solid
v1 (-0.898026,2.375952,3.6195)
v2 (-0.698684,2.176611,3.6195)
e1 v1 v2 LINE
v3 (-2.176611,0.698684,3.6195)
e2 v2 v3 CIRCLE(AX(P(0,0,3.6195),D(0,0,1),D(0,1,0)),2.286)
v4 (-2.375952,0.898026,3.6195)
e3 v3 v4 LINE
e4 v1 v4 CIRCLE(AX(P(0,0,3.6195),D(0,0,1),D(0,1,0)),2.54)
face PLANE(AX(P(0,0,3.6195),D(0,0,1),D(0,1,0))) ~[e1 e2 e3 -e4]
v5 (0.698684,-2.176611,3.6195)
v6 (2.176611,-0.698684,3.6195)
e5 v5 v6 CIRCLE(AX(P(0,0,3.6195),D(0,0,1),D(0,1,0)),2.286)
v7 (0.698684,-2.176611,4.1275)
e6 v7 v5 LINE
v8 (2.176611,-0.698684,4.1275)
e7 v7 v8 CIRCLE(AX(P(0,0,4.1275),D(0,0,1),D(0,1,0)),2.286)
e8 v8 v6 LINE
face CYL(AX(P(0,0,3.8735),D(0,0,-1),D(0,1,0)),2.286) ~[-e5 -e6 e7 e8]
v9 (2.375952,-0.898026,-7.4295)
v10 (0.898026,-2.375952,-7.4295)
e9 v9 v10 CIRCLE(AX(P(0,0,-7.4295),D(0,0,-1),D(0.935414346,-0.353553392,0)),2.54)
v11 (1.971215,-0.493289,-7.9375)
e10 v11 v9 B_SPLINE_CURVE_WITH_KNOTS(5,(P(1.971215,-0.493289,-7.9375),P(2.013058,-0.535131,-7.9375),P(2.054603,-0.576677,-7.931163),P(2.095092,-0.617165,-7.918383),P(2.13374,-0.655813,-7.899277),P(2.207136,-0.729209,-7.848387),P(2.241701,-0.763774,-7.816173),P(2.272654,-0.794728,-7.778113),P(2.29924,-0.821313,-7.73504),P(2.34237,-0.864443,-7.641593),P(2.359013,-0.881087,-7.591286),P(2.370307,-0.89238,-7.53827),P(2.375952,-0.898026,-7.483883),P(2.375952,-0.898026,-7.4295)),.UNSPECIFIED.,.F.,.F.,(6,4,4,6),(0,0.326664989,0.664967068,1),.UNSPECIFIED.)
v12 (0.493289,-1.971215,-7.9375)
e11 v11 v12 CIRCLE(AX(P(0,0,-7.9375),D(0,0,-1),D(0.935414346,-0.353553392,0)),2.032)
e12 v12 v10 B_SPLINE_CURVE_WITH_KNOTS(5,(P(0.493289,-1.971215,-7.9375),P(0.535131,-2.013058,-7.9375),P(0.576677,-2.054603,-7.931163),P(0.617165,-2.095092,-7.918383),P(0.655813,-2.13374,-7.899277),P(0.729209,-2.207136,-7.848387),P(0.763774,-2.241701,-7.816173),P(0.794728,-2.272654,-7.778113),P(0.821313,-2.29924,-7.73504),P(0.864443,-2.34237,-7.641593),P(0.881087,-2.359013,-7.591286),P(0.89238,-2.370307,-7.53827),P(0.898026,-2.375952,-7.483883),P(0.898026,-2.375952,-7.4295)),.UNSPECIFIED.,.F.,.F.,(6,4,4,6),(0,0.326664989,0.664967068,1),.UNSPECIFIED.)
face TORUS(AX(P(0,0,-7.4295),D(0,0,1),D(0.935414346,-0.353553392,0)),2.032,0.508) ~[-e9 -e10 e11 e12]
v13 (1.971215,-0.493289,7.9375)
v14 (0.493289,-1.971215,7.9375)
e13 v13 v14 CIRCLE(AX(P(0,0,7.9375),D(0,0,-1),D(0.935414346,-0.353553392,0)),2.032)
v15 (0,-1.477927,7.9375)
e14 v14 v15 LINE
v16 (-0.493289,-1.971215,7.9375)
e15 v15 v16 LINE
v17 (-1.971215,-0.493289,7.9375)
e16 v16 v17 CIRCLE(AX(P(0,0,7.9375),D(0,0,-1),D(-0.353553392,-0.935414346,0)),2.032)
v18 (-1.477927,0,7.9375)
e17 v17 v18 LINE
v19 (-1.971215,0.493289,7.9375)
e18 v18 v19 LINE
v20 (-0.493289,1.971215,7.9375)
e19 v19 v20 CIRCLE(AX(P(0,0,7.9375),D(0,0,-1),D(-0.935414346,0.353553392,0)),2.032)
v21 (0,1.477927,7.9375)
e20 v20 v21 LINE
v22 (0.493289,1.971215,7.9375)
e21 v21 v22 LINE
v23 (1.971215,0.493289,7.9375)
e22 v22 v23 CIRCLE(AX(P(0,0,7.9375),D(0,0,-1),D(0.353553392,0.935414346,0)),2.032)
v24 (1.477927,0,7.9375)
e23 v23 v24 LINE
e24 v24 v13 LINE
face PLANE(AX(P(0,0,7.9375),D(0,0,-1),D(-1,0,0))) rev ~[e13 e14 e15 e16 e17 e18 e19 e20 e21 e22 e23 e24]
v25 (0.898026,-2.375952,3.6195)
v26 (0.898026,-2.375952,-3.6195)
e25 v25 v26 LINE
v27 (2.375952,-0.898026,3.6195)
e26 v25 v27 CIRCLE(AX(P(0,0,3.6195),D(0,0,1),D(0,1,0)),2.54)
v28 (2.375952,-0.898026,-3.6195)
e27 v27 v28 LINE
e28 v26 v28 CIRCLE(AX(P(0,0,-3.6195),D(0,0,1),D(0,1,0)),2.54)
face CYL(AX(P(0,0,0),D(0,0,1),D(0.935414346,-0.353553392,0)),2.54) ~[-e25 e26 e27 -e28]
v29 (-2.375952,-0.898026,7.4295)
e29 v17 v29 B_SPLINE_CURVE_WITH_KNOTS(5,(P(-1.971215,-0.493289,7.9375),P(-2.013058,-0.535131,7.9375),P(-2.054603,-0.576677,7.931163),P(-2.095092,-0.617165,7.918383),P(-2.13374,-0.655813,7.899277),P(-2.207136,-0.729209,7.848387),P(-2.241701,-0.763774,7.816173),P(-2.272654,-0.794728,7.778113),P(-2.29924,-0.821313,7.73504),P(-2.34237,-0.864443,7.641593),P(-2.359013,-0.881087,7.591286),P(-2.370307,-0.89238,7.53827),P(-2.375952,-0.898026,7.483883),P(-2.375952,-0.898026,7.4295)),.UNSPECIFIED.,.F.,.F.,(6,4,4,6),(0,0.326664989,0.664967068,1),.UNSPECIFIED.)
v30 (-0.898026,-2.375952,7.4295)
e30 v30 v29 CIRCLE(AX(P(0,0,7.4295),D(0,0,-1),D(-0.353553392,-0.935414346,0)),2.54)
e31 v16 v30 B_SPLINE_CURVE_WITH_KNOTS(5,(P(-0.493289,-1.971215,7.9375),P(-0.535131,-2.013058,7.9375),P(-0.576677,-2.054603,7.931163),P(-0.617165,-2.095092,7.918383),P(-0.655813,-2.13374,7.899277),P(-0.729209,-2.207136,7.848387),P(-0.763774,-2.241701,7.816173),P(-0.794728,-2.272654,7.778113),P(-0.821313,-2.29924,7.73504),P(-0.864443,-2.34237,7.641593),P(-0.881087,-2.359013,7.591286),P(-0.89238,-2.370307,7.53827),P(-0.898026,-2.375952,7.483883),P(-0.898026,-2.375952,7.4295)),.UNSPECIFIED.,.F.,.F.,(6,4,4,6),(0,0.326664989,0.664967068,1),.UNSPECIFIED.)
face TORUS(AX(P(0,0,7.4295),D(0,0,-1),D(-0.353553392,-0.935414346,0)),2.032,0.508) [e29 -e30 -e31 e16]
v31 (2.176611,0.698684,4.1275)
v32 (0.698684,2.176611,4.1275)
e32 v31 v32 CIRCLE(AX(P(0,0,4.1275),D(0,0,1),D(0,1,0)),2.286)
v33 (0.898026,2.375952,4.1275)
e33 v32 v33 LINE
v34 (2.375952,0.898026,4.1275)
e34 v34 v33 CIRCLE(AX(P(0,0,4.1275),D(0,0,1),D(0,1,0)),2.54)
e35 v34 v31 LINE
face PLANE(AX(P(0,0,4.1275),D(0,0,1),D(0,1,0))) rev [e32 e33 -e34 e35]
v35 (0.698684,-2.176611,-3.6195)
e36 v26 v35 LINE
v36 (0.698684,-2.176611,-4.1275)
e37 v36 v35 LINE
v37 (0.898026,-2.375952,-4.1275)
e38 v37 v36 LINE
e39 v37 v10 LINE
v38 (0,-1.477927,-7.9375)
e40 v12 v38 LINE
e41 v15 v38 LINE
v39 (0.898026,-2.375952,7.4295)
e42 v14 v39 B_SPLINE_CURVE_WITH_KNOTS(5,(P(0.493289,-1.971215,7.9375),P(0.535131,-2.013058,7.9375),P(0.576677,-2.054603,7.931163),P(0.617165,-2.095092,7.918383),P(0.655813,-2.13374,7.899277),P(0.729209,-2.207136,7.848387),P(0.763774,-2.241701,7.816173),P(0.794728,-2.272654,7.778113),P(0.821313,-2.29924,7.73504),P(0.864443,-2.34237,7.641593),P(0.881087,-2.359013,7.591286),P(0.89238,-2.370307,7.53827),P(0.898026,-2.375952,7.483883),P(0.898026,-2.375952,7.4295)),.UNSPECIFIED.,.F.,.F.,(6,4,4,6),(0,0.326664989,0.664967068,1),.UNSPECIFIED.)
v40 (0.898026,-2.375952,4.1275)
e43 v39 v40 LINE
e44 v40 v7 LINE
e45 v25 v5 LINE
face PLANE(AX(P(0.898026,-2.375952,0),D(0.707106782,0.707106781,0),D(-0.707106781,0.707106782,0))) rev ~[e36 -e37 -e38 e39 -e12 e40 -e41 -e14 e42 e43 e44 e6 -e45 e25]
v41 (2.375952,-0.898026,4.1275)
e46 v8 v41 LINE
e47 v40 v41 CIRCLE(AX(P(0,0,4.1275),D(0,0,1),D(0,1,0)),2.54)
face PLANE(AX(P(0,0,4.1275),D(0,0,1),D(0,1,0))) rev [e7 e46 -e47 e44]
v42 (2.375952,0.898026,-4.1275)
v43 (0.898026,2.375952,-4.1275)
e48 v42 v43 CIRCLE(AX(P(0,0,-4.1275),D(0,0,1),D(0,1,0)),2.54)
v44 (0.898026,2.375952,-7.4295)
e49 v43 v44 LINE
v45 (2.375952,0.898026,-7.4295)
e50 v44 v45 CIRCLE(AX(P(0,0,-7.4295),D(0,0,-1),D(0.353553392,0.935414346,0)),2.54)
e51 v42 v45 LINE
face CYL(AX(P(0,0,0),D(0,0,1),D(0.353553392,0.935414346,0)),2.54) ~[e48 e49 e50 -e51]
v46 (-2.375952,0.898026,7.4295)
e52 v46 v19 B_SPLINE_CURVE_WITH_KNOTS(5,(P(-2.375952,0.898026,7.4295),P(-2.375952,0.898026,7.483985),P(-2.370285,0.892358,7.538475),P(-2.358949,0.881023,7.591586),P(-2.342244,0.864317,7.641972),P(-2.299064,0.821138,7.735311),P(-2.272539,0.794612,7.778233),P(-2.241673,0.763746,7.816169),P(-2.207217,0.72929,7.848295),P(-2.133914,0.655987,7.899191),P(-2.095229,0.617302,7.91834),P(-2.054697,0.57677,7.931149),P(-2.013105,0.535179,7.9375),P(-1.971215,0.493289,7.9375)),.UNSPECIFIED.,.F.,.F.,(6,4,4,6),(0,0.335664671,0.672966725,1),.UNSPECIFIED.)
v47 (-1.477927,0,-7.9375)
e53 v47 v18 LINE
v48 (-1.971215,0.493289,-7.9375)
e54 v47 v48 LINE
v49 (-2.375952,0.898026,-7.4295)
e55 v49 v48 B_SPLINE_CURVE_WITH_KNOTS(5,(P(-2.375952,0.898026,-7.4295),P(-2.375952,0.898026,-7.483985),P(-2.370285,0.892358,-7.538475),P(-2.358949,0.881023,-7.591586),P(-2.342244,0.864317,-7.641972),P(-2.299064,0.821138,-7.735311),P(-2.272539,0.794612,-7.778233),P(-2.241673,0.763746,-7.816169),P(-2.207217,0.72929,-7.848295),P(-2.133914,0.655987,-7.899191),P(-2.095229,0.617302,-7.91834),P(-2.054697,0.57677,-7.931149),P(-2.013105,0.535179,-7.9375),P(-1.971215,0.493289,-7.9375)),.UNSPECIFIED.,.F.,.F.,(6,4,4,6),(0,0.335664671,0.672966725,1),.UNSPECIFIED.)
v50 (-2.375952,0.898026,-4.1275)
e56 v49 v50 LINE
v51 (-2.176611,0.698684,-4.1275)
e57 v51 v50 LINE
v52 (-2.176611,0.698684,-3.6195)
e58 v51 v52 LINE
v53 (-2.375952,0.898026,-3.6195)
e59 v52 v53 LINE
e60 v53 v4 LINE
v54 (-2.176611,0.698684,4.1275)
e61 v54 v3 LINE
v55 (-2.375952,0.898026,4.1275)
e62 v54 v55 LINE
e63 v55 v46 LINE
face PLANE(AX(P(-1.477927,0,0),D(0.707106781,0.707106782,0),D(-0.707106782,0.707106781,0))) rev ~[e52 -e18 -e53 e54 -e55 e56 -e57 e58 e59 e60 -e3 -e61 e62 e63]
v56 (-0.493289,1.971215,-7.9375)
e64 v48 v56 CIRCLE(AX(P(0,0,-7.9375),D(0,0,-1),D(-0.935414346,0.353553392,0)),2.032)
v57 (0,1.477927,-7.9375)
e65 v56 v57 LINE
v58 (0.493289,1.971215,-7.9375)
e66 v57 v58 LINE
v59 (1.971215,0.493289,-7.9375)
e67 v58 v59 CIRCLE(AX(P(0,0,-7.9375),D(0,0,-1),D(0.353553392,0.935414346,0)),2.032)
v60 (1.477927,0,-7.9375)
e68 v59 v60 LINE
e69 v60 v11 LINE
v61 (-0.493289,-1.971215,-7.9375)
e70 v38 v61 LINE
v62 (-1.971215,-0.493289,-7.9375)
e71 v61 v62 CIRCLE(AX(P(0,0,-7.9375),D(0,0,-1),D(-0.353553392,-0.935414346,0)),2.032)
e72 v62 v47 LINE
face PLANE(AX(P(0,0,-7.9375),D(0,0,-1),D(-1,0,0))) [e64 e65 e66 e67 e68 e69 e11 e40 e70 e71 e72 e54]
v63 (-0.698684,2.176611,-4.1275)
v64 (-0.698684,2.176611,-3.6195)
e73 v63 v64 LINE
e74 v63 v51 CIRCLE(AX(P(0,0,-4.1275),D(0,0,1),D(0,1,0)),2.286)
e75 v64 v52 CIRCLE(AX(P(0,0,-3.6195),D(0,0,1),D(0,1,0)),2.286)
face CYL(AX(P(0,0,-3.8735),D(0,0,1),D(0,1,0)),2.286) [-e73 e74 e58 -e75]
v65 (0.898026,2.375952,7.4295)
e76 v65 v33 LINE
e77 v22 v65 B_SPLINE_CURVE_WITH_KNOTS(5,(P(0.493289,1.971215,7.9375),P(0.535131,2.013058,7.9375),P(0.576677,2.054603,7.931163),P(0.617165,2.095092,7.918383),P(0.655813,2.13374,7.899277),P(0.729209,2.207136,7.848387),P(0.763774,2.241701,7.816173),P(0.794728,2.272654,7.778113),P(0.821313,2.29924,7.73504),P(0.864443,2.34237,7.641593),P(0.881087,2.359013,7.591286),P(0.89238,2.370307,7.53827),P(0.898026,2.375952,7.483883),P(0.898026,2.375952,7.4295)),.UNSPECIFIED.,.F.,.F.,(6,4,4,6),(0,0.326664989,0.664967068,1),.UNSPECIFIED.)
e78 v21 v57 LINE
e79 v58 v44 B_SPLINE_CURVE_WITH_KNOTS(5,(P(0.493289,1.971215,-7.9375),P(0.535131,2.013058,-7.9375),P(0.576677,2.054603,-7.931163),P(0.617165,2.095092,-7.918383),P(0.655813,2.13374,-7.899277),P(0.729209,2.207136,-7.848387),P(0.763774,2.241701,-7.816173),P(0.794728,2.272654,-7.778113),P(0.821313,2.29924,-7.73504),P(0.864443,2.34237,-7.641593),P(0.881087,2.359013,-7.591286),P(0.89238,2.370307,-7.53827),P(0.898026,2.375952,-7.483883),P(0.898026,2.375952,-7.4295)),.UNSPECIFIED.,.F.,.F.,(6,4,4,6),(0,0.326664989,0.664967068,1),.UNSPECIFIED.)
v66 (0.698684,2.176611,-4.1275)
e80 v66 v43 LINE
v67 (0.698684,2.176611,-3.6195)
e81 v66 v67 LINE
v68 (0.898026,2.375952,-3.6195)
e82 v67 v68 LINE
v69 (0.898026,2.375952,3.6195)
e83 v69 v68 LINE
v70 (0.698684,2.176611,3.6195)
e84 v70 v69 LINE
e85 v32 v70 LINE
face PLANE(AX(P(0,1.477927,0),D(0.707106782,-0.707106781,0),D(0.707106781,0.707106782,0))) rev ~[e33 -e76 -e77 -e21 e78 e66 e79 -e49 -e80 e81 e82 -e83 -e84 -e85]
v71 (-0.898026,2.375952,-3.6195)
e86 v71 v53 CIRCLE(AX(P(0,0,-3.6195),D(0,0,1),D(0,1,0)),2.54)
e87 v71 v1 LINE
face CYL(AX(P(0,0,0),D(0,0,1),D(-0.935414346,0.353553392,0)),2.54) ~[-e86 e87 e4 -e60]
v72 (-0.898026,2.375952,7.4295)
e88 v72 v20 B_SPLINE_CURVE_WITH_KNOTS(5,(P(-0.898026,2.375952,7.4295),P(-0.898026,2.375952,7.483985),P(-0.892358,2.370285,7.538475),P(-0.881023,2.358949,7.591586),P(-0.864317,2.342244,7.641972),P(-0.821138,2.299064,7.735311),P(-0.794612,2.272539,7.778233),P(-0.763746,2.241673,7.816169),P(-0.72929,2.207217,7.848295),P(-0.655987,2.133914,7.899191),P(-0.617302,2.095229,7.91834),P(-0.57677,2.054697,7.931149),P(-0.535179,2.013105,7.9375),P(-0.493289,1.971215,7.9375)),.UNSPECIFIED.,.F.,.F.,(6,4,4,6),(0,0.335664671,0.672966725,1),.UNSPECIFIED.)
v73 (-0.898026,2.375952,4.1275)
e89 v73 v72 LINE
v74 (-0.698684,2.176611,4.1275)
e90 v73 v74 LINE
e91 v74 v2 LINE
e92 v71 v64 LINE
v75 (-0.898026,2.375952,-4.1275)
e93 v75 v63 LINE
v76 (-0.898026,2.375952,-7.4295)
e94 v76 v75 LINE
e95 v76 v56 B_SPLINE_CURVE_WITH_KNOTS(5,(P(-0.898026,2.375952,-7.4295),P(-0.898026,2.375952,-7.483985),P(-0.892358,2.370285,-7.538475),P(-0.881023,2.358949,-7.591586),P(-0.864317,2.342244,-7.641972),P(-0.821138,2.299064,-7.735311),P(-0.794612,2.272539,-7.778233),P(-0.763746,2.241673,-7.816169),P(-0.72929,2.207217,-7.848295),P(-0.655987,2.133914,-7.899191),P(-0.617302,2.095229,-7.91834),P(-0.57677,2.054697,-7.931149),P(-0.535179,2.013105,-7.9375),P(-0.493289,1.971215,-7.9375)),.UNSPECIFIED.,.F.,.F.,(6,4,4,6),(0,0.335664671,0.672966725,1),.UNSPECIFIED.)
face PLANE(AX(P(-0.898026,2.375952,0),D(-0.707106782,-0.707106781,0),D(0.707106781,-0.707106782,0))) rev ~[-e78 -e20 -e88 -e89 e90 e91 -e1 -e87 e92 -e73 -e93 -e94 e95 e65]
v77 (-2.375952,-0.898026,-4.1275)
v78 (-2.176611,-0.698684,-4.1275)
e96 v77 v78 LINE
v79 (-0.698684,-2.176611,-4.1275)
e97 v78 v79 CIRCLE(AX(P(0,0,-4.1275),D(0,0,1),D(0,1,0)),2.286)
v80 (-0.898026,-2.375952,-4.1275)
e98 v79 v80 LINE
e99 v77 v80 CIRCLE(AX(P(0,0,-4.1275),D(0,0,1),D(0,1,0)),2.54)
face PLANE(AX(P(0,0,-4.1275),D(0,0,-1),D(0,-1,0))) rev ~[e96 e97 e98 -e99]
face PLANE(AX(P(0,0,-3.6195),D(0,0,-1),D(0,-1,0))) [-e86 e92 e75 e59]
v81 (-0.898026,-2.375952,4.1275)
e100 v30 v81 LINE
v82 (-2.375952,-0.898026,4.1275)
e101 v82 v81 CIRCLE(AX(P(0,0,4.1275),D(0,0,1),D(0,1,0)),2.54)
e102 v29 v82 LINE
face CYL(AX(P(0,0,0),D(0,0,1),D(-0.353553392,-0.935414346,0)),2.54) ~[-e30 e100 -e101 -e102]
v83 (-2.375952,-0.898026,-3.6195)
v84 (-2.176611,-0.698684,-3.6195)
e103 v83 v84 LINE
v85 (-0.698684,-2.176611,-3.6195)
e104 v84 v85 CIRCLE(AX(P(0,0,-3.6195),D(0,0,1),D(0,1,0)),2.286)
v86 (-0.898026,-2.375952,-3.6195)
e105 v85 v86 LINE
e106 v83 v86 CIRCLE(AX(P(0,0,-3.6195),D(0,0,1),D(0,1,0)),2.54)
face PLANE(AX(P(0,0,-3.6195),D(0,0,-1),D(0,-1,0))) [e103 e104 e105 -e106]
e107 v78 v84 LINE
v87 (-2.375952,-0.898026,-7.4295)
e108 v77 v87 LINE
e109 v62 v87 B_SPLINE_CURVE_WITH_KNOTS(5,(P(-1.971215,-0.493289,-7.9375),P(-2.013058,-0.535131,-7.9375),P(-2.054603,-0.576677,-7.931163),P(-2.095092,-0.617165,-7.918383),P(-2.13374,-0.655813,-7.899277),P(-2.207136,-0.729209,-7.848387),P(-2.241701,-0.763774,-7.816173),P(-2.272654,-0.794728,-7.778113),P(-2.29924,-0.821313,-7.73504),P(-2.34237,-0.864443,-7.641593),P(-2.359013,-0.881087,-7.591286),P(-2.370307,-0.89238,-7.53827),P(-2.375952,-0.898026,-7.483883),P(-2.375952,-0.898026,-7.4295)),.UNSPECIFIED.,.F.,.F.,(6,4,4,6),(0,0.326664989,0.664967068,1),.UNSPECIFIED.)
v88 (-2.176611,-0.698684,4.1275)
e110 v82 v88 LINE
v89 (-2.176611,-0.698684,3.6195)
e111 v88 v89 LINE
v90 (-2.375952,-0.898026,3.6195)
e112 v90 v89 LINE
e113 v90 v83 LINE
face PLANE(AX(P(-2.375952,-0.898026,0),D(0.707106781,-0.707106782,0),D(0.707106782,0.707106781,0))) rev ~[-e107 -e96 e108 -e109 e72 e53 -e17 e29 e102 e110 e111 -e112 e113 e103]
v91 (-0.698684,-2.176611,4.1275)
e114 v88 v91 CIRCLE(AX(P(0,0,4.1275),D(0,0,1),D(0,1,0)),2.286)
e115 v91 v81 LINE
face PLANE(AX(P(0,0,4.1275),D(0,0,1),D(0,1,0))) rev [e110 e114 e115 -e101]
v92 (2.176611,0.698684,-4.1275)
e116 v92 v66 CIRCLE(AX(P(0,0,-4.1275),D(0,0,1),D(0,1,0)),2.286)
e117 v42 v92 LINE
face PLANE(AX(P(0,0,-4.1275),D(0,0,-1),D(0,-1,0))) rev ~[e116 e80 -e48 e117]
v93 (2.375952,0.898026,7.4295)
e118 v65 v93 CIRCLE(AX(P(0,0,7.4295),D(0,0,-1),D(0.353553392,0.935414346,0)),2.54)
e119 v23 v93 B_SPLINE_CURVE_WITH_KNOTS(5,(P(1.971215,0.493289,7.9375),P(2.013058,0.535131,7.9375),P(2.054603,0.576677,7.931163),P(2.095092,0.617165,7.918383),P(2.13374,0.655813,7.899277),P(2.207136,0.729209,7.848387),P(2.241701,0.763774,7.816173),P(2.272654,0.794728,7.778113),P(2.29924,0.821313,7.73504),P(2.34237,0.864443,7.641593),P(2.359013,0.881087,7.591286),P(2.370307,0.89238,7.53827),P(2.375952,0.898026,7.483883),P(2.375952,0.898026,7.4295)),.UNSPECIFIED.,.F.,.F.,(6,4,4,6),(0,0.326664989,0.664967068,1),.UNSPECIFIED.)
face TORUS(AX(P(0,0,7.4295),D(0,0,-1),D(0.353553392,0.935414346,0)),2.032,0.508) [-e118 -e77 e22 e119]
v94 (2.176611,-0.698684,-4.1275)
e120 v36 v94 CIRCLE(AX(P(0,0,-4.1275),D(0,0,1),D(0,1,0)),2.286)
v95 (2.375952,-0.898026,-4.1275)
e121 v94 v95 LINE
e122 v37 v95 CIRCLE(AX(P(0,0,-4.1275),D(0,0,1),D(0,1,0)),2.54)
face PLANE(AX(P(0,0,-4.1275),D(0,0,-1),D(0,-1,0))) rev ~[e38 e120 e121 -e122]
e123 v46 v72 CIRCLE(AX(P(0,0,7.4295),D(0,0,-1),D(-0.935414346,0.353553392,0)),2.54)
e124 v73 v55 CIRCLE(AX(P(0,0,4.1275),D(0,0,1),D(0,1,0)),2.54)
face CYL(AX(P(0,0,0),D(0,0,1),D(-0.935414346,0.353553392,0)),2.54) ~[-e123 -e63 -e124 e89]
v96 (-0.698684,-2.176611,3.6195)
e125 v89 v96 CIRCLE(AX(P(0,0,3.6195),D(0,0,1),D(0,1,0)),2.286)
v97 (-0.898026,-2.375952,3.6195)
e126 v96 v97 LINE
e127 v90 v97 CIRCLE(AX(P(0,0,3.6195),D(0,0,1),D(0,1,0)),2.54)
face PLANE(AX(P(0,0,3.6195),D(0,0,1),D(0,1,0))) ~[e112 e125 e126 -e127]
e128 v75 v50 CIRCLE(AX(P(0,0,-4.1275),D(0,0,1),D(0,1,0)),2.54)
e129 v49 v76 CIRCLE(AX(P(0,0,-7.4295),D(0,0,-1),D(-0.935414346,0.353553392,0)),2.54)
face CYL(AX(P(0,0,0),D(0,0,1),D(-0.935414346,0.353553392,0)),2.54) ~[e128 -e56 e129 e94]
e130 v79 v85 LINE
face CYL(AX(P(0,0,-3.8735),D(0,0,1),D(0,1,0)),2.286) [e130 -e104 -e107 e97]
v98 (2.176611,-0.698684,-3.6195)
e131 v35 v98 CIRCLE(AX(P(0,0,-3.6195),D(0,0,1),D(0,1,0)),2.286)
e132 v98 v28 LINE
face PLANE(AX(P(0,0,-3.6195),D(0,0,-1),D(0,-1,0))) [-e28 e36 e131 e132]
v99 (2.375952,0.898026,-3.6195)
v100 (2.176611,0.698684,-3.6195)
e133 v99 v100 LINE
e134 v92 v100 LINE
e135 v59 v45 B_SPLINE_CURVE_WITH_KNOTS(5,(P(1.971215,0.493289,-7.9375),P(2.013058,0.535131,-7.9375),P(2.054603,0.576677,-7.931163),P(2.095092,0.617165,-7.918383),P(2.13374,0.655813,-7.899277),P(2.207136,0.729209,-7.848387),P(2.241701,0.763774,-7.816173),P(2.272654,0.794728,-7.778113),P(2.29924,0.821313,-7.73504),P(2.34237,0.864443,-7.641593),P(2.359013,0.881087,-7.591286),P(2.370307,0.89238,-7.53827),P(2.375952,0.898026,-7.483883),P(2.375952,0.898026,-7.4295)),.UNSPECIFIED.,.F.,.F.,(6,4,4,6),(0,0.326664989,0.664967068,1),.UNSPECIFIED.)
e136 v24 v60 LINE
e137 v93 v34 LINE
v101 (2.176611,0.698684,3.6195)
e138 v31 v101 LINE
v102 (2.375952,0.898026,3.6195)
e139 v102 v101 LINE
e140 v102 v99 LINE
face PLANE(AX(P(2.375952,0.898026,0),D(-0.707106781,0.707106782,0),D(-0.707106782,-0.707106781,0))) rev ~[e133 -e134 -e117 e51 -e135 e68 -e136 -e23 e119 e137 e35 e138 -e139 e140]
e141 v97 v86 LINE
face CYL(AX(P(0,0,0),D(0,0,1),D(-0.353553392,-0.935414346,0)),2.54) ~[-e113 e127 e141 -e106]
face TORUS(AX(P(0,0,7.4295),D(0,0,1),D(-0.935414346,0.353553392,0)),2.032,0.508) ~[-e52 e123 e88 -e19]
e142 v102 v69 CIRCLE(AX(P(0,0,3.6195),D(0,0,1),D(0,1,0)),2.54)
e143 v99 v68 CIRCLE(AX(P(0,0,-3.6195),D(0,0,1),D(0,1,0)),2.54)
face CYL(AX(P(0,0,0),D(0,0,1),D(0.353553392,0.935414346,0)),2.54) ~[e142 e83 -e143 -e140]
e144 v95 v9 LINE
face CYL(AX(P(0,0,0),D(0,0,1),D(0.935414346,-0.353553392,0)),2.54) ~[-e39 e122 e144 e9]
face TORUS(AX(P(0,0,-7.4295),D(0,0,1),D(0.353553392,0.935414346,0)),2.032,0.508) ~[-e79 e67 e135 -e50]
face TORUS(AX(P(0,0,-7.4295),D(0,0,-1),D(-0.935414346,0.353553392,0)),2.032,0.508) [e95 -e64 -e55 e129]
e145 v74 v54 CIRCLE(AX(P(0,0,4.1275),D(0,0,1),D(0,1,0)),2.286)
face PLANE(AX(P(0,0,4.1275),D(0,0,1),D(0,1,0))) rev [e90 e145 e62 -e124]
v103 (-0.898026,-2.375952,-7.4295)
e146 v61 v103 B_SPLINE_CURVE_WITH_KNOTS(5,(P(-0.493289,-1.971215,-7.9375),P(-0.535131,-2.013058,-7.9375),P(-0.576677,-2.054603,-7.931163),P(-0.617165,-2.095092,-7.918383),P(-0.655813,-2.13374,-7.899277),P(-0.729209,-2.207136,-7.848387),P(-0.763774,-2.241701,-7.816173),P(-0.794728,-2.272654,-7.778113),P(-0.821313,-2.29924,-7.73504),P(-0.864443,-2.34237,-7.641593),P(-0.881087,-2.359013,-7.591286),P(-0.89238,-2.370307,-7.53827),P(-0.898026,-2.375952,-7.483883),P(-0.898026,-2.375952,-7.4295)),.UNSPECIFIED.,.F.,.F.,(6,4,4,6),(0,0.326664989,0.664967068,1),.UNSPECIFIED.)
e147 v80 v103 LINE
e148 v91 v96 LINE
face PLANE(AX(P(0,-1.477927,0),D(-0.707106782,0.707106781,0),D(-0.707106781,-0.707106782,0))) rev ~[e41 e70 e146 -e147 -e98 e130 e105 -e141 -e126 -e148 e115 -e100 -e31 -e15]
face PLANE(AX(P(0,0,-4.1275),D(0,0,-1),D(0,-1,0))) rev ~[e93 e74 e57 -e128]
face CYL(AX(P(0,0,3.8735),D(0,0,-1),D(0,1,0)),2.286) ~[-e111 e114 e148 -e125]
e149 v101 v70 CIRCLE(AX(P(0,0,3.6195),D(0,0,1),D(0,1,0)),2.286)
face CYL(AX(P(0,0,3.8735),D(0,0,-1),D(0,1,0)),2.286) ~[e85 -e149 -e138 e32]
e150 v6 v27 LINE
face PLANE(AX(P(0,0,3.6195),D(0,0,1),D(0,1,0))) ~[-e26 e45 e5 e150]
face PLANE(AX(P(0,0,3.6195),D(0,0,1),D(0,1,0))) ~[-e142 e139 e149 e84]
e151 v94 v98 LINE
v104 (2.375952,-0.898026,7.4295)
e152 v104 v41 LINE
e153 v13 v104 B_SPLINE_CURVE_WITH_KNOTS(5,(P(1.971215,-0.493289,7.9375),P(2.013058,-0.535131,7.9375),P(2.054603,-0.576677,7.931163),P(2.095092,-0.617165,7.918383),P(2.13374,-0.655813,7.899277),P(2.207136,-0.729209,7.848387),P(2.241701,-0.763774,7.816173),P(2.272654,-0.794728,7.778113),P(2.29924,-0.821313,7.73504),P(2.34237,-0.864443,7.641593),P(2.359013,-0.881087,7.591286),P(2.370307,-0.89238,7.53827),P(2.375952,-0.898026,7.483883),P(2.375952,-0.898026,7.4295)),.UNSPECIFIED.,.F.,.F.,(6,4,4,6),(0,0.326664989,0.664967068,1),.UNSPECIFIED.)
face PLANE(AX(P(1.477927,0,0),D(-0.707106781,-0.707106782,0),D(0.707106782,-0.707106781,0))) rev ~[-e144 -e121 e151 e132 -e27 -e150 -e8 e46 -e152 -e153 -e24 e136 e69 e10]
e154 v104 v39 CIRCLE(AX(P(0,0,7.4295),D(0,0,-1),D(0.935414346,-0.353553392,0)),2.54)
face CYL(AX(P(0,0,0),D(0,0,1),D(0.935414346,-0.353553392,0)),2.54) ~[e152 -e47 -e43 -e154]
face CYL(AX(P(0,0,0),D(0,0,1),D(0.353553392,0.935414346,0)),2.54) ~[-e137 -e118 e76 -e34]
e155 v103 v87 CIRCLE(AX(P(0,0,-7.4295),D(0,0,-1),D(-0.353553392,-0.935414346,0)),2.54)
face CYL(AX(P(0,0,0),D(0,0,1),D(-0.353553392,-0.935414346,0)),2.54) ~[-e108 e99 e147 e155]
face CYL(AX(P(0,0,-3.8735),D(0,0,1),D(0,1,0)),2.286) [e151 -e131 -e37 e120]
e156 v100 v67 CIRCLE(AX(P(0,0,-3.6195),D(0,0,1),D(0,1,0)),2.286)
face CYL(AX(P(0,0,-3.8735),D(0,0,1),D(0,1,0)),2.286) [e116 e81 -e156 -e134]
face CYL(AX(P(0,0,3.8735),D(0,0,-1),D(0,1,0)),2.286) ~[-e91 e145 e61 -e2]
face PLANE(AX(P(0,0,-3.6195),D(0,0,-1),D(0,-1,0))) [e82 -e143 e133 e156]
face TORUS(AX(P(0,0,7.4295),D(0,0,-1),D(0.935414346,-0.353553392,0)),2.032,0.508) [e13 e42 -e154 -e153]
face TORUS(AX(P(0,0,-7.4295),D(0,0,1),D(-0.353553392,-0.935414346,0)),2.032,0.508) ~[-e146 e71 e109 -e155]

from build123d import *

# Parameters (mm, degrees)
BOSS_EXTRUDE1_DEPTH = 7.9375
SKETCH2_W           = 0.508
SKETCH2_H           = 0.254
FILLET3_R           = 0.508


with BuildPart() as part:
    # Sketch1 → Boss-Extrude1 (new body, symmetric)
    with BuildSketch(Plane.XY):
        with BuildLine():
            Line((-0.898025612, 2.375952441), (0, 1.477926828))
            Line((0, 1.477926828), (0.898025612, 2.375952441))
            ThreePointArc((0.898025612, 2.375952441), (1.796051224, 1.796051224), (2.375952441, 0.898025612))
            Line((2.375952441, 0.898025612), (1.477926828, 0))
            Line((1.477926828, 0), (2.375952441, -0.898025612))
            ThreePointArc((2.375952441, -0.898025612), (1.796051224, -1.796051224), (0.898025612, -2.375952441))
            Line((0.898025612, -2.375952441), (0, -1.477926828))
            Line((0, -1.477926828), (-0.898025612, -2.375952441))
            ThreePointArc((-0.898025612, -2.375952441), (-1.796051224, -1.796051224), (-2.375952441, -0.898025612))
            Line((-2.375952441, -0.898025612), (-1.477926828, 0))
            Line((-1.477926828, 0), (-2.375952441, 0.898025612))
            ThreePointArc((-2.375952441, 0.898025612), (-1.796051224, 1.796051224), (-0.898025612, 2.375952441))
        make_face()
    extrude(amount=BOSS_EXTRUDE1_DEPTH, both=True)

    # Sketch2 → Cut-Revolve2 (revolve, cut)
    with BuildSketch(Plane(origin=(0, 0, 0), x_dir=(0, 0, -1), z_dir=(1, 0, 0))):
        with Locations((-3.8735, 2.413)):
            Rectangle(SKETCH2_W, SKETCH2_H)
    cut_revolve2 = revolve(axis=Axis((0, 0, 0), (0, 0, 1)), mode=Mode.SUBTRACT)

    # Mirror1: Cut-Revolve2 across plane
    add(cut_revolve2.mirror(Plane.XY), mode=Mode.SUBTRACT)

    # Fillet3
    fillet3_edges = [part.edges().sort_by_distance(p)[0] for p in [
        (1.796051224, 1.796051224, -7.9375),
        (1.796051224, -1.796051224, -7.9375),
        (-1.796051224, -1.796051224, -7.9375),
        (-1.796051224, 1.796051224, -7.9375),
        (-1.796051224, -1.796051224, 7.9375),
        (1.796051224, -1.796051224, 7.9375),
        (1.796051224, 1.796051224, 7.9375),
        (-1.796051224, 1.796051224, 7.9375),
    ]]
    fillet(fillet3_edges, radius=FILLET3_R)


solid = part.part
